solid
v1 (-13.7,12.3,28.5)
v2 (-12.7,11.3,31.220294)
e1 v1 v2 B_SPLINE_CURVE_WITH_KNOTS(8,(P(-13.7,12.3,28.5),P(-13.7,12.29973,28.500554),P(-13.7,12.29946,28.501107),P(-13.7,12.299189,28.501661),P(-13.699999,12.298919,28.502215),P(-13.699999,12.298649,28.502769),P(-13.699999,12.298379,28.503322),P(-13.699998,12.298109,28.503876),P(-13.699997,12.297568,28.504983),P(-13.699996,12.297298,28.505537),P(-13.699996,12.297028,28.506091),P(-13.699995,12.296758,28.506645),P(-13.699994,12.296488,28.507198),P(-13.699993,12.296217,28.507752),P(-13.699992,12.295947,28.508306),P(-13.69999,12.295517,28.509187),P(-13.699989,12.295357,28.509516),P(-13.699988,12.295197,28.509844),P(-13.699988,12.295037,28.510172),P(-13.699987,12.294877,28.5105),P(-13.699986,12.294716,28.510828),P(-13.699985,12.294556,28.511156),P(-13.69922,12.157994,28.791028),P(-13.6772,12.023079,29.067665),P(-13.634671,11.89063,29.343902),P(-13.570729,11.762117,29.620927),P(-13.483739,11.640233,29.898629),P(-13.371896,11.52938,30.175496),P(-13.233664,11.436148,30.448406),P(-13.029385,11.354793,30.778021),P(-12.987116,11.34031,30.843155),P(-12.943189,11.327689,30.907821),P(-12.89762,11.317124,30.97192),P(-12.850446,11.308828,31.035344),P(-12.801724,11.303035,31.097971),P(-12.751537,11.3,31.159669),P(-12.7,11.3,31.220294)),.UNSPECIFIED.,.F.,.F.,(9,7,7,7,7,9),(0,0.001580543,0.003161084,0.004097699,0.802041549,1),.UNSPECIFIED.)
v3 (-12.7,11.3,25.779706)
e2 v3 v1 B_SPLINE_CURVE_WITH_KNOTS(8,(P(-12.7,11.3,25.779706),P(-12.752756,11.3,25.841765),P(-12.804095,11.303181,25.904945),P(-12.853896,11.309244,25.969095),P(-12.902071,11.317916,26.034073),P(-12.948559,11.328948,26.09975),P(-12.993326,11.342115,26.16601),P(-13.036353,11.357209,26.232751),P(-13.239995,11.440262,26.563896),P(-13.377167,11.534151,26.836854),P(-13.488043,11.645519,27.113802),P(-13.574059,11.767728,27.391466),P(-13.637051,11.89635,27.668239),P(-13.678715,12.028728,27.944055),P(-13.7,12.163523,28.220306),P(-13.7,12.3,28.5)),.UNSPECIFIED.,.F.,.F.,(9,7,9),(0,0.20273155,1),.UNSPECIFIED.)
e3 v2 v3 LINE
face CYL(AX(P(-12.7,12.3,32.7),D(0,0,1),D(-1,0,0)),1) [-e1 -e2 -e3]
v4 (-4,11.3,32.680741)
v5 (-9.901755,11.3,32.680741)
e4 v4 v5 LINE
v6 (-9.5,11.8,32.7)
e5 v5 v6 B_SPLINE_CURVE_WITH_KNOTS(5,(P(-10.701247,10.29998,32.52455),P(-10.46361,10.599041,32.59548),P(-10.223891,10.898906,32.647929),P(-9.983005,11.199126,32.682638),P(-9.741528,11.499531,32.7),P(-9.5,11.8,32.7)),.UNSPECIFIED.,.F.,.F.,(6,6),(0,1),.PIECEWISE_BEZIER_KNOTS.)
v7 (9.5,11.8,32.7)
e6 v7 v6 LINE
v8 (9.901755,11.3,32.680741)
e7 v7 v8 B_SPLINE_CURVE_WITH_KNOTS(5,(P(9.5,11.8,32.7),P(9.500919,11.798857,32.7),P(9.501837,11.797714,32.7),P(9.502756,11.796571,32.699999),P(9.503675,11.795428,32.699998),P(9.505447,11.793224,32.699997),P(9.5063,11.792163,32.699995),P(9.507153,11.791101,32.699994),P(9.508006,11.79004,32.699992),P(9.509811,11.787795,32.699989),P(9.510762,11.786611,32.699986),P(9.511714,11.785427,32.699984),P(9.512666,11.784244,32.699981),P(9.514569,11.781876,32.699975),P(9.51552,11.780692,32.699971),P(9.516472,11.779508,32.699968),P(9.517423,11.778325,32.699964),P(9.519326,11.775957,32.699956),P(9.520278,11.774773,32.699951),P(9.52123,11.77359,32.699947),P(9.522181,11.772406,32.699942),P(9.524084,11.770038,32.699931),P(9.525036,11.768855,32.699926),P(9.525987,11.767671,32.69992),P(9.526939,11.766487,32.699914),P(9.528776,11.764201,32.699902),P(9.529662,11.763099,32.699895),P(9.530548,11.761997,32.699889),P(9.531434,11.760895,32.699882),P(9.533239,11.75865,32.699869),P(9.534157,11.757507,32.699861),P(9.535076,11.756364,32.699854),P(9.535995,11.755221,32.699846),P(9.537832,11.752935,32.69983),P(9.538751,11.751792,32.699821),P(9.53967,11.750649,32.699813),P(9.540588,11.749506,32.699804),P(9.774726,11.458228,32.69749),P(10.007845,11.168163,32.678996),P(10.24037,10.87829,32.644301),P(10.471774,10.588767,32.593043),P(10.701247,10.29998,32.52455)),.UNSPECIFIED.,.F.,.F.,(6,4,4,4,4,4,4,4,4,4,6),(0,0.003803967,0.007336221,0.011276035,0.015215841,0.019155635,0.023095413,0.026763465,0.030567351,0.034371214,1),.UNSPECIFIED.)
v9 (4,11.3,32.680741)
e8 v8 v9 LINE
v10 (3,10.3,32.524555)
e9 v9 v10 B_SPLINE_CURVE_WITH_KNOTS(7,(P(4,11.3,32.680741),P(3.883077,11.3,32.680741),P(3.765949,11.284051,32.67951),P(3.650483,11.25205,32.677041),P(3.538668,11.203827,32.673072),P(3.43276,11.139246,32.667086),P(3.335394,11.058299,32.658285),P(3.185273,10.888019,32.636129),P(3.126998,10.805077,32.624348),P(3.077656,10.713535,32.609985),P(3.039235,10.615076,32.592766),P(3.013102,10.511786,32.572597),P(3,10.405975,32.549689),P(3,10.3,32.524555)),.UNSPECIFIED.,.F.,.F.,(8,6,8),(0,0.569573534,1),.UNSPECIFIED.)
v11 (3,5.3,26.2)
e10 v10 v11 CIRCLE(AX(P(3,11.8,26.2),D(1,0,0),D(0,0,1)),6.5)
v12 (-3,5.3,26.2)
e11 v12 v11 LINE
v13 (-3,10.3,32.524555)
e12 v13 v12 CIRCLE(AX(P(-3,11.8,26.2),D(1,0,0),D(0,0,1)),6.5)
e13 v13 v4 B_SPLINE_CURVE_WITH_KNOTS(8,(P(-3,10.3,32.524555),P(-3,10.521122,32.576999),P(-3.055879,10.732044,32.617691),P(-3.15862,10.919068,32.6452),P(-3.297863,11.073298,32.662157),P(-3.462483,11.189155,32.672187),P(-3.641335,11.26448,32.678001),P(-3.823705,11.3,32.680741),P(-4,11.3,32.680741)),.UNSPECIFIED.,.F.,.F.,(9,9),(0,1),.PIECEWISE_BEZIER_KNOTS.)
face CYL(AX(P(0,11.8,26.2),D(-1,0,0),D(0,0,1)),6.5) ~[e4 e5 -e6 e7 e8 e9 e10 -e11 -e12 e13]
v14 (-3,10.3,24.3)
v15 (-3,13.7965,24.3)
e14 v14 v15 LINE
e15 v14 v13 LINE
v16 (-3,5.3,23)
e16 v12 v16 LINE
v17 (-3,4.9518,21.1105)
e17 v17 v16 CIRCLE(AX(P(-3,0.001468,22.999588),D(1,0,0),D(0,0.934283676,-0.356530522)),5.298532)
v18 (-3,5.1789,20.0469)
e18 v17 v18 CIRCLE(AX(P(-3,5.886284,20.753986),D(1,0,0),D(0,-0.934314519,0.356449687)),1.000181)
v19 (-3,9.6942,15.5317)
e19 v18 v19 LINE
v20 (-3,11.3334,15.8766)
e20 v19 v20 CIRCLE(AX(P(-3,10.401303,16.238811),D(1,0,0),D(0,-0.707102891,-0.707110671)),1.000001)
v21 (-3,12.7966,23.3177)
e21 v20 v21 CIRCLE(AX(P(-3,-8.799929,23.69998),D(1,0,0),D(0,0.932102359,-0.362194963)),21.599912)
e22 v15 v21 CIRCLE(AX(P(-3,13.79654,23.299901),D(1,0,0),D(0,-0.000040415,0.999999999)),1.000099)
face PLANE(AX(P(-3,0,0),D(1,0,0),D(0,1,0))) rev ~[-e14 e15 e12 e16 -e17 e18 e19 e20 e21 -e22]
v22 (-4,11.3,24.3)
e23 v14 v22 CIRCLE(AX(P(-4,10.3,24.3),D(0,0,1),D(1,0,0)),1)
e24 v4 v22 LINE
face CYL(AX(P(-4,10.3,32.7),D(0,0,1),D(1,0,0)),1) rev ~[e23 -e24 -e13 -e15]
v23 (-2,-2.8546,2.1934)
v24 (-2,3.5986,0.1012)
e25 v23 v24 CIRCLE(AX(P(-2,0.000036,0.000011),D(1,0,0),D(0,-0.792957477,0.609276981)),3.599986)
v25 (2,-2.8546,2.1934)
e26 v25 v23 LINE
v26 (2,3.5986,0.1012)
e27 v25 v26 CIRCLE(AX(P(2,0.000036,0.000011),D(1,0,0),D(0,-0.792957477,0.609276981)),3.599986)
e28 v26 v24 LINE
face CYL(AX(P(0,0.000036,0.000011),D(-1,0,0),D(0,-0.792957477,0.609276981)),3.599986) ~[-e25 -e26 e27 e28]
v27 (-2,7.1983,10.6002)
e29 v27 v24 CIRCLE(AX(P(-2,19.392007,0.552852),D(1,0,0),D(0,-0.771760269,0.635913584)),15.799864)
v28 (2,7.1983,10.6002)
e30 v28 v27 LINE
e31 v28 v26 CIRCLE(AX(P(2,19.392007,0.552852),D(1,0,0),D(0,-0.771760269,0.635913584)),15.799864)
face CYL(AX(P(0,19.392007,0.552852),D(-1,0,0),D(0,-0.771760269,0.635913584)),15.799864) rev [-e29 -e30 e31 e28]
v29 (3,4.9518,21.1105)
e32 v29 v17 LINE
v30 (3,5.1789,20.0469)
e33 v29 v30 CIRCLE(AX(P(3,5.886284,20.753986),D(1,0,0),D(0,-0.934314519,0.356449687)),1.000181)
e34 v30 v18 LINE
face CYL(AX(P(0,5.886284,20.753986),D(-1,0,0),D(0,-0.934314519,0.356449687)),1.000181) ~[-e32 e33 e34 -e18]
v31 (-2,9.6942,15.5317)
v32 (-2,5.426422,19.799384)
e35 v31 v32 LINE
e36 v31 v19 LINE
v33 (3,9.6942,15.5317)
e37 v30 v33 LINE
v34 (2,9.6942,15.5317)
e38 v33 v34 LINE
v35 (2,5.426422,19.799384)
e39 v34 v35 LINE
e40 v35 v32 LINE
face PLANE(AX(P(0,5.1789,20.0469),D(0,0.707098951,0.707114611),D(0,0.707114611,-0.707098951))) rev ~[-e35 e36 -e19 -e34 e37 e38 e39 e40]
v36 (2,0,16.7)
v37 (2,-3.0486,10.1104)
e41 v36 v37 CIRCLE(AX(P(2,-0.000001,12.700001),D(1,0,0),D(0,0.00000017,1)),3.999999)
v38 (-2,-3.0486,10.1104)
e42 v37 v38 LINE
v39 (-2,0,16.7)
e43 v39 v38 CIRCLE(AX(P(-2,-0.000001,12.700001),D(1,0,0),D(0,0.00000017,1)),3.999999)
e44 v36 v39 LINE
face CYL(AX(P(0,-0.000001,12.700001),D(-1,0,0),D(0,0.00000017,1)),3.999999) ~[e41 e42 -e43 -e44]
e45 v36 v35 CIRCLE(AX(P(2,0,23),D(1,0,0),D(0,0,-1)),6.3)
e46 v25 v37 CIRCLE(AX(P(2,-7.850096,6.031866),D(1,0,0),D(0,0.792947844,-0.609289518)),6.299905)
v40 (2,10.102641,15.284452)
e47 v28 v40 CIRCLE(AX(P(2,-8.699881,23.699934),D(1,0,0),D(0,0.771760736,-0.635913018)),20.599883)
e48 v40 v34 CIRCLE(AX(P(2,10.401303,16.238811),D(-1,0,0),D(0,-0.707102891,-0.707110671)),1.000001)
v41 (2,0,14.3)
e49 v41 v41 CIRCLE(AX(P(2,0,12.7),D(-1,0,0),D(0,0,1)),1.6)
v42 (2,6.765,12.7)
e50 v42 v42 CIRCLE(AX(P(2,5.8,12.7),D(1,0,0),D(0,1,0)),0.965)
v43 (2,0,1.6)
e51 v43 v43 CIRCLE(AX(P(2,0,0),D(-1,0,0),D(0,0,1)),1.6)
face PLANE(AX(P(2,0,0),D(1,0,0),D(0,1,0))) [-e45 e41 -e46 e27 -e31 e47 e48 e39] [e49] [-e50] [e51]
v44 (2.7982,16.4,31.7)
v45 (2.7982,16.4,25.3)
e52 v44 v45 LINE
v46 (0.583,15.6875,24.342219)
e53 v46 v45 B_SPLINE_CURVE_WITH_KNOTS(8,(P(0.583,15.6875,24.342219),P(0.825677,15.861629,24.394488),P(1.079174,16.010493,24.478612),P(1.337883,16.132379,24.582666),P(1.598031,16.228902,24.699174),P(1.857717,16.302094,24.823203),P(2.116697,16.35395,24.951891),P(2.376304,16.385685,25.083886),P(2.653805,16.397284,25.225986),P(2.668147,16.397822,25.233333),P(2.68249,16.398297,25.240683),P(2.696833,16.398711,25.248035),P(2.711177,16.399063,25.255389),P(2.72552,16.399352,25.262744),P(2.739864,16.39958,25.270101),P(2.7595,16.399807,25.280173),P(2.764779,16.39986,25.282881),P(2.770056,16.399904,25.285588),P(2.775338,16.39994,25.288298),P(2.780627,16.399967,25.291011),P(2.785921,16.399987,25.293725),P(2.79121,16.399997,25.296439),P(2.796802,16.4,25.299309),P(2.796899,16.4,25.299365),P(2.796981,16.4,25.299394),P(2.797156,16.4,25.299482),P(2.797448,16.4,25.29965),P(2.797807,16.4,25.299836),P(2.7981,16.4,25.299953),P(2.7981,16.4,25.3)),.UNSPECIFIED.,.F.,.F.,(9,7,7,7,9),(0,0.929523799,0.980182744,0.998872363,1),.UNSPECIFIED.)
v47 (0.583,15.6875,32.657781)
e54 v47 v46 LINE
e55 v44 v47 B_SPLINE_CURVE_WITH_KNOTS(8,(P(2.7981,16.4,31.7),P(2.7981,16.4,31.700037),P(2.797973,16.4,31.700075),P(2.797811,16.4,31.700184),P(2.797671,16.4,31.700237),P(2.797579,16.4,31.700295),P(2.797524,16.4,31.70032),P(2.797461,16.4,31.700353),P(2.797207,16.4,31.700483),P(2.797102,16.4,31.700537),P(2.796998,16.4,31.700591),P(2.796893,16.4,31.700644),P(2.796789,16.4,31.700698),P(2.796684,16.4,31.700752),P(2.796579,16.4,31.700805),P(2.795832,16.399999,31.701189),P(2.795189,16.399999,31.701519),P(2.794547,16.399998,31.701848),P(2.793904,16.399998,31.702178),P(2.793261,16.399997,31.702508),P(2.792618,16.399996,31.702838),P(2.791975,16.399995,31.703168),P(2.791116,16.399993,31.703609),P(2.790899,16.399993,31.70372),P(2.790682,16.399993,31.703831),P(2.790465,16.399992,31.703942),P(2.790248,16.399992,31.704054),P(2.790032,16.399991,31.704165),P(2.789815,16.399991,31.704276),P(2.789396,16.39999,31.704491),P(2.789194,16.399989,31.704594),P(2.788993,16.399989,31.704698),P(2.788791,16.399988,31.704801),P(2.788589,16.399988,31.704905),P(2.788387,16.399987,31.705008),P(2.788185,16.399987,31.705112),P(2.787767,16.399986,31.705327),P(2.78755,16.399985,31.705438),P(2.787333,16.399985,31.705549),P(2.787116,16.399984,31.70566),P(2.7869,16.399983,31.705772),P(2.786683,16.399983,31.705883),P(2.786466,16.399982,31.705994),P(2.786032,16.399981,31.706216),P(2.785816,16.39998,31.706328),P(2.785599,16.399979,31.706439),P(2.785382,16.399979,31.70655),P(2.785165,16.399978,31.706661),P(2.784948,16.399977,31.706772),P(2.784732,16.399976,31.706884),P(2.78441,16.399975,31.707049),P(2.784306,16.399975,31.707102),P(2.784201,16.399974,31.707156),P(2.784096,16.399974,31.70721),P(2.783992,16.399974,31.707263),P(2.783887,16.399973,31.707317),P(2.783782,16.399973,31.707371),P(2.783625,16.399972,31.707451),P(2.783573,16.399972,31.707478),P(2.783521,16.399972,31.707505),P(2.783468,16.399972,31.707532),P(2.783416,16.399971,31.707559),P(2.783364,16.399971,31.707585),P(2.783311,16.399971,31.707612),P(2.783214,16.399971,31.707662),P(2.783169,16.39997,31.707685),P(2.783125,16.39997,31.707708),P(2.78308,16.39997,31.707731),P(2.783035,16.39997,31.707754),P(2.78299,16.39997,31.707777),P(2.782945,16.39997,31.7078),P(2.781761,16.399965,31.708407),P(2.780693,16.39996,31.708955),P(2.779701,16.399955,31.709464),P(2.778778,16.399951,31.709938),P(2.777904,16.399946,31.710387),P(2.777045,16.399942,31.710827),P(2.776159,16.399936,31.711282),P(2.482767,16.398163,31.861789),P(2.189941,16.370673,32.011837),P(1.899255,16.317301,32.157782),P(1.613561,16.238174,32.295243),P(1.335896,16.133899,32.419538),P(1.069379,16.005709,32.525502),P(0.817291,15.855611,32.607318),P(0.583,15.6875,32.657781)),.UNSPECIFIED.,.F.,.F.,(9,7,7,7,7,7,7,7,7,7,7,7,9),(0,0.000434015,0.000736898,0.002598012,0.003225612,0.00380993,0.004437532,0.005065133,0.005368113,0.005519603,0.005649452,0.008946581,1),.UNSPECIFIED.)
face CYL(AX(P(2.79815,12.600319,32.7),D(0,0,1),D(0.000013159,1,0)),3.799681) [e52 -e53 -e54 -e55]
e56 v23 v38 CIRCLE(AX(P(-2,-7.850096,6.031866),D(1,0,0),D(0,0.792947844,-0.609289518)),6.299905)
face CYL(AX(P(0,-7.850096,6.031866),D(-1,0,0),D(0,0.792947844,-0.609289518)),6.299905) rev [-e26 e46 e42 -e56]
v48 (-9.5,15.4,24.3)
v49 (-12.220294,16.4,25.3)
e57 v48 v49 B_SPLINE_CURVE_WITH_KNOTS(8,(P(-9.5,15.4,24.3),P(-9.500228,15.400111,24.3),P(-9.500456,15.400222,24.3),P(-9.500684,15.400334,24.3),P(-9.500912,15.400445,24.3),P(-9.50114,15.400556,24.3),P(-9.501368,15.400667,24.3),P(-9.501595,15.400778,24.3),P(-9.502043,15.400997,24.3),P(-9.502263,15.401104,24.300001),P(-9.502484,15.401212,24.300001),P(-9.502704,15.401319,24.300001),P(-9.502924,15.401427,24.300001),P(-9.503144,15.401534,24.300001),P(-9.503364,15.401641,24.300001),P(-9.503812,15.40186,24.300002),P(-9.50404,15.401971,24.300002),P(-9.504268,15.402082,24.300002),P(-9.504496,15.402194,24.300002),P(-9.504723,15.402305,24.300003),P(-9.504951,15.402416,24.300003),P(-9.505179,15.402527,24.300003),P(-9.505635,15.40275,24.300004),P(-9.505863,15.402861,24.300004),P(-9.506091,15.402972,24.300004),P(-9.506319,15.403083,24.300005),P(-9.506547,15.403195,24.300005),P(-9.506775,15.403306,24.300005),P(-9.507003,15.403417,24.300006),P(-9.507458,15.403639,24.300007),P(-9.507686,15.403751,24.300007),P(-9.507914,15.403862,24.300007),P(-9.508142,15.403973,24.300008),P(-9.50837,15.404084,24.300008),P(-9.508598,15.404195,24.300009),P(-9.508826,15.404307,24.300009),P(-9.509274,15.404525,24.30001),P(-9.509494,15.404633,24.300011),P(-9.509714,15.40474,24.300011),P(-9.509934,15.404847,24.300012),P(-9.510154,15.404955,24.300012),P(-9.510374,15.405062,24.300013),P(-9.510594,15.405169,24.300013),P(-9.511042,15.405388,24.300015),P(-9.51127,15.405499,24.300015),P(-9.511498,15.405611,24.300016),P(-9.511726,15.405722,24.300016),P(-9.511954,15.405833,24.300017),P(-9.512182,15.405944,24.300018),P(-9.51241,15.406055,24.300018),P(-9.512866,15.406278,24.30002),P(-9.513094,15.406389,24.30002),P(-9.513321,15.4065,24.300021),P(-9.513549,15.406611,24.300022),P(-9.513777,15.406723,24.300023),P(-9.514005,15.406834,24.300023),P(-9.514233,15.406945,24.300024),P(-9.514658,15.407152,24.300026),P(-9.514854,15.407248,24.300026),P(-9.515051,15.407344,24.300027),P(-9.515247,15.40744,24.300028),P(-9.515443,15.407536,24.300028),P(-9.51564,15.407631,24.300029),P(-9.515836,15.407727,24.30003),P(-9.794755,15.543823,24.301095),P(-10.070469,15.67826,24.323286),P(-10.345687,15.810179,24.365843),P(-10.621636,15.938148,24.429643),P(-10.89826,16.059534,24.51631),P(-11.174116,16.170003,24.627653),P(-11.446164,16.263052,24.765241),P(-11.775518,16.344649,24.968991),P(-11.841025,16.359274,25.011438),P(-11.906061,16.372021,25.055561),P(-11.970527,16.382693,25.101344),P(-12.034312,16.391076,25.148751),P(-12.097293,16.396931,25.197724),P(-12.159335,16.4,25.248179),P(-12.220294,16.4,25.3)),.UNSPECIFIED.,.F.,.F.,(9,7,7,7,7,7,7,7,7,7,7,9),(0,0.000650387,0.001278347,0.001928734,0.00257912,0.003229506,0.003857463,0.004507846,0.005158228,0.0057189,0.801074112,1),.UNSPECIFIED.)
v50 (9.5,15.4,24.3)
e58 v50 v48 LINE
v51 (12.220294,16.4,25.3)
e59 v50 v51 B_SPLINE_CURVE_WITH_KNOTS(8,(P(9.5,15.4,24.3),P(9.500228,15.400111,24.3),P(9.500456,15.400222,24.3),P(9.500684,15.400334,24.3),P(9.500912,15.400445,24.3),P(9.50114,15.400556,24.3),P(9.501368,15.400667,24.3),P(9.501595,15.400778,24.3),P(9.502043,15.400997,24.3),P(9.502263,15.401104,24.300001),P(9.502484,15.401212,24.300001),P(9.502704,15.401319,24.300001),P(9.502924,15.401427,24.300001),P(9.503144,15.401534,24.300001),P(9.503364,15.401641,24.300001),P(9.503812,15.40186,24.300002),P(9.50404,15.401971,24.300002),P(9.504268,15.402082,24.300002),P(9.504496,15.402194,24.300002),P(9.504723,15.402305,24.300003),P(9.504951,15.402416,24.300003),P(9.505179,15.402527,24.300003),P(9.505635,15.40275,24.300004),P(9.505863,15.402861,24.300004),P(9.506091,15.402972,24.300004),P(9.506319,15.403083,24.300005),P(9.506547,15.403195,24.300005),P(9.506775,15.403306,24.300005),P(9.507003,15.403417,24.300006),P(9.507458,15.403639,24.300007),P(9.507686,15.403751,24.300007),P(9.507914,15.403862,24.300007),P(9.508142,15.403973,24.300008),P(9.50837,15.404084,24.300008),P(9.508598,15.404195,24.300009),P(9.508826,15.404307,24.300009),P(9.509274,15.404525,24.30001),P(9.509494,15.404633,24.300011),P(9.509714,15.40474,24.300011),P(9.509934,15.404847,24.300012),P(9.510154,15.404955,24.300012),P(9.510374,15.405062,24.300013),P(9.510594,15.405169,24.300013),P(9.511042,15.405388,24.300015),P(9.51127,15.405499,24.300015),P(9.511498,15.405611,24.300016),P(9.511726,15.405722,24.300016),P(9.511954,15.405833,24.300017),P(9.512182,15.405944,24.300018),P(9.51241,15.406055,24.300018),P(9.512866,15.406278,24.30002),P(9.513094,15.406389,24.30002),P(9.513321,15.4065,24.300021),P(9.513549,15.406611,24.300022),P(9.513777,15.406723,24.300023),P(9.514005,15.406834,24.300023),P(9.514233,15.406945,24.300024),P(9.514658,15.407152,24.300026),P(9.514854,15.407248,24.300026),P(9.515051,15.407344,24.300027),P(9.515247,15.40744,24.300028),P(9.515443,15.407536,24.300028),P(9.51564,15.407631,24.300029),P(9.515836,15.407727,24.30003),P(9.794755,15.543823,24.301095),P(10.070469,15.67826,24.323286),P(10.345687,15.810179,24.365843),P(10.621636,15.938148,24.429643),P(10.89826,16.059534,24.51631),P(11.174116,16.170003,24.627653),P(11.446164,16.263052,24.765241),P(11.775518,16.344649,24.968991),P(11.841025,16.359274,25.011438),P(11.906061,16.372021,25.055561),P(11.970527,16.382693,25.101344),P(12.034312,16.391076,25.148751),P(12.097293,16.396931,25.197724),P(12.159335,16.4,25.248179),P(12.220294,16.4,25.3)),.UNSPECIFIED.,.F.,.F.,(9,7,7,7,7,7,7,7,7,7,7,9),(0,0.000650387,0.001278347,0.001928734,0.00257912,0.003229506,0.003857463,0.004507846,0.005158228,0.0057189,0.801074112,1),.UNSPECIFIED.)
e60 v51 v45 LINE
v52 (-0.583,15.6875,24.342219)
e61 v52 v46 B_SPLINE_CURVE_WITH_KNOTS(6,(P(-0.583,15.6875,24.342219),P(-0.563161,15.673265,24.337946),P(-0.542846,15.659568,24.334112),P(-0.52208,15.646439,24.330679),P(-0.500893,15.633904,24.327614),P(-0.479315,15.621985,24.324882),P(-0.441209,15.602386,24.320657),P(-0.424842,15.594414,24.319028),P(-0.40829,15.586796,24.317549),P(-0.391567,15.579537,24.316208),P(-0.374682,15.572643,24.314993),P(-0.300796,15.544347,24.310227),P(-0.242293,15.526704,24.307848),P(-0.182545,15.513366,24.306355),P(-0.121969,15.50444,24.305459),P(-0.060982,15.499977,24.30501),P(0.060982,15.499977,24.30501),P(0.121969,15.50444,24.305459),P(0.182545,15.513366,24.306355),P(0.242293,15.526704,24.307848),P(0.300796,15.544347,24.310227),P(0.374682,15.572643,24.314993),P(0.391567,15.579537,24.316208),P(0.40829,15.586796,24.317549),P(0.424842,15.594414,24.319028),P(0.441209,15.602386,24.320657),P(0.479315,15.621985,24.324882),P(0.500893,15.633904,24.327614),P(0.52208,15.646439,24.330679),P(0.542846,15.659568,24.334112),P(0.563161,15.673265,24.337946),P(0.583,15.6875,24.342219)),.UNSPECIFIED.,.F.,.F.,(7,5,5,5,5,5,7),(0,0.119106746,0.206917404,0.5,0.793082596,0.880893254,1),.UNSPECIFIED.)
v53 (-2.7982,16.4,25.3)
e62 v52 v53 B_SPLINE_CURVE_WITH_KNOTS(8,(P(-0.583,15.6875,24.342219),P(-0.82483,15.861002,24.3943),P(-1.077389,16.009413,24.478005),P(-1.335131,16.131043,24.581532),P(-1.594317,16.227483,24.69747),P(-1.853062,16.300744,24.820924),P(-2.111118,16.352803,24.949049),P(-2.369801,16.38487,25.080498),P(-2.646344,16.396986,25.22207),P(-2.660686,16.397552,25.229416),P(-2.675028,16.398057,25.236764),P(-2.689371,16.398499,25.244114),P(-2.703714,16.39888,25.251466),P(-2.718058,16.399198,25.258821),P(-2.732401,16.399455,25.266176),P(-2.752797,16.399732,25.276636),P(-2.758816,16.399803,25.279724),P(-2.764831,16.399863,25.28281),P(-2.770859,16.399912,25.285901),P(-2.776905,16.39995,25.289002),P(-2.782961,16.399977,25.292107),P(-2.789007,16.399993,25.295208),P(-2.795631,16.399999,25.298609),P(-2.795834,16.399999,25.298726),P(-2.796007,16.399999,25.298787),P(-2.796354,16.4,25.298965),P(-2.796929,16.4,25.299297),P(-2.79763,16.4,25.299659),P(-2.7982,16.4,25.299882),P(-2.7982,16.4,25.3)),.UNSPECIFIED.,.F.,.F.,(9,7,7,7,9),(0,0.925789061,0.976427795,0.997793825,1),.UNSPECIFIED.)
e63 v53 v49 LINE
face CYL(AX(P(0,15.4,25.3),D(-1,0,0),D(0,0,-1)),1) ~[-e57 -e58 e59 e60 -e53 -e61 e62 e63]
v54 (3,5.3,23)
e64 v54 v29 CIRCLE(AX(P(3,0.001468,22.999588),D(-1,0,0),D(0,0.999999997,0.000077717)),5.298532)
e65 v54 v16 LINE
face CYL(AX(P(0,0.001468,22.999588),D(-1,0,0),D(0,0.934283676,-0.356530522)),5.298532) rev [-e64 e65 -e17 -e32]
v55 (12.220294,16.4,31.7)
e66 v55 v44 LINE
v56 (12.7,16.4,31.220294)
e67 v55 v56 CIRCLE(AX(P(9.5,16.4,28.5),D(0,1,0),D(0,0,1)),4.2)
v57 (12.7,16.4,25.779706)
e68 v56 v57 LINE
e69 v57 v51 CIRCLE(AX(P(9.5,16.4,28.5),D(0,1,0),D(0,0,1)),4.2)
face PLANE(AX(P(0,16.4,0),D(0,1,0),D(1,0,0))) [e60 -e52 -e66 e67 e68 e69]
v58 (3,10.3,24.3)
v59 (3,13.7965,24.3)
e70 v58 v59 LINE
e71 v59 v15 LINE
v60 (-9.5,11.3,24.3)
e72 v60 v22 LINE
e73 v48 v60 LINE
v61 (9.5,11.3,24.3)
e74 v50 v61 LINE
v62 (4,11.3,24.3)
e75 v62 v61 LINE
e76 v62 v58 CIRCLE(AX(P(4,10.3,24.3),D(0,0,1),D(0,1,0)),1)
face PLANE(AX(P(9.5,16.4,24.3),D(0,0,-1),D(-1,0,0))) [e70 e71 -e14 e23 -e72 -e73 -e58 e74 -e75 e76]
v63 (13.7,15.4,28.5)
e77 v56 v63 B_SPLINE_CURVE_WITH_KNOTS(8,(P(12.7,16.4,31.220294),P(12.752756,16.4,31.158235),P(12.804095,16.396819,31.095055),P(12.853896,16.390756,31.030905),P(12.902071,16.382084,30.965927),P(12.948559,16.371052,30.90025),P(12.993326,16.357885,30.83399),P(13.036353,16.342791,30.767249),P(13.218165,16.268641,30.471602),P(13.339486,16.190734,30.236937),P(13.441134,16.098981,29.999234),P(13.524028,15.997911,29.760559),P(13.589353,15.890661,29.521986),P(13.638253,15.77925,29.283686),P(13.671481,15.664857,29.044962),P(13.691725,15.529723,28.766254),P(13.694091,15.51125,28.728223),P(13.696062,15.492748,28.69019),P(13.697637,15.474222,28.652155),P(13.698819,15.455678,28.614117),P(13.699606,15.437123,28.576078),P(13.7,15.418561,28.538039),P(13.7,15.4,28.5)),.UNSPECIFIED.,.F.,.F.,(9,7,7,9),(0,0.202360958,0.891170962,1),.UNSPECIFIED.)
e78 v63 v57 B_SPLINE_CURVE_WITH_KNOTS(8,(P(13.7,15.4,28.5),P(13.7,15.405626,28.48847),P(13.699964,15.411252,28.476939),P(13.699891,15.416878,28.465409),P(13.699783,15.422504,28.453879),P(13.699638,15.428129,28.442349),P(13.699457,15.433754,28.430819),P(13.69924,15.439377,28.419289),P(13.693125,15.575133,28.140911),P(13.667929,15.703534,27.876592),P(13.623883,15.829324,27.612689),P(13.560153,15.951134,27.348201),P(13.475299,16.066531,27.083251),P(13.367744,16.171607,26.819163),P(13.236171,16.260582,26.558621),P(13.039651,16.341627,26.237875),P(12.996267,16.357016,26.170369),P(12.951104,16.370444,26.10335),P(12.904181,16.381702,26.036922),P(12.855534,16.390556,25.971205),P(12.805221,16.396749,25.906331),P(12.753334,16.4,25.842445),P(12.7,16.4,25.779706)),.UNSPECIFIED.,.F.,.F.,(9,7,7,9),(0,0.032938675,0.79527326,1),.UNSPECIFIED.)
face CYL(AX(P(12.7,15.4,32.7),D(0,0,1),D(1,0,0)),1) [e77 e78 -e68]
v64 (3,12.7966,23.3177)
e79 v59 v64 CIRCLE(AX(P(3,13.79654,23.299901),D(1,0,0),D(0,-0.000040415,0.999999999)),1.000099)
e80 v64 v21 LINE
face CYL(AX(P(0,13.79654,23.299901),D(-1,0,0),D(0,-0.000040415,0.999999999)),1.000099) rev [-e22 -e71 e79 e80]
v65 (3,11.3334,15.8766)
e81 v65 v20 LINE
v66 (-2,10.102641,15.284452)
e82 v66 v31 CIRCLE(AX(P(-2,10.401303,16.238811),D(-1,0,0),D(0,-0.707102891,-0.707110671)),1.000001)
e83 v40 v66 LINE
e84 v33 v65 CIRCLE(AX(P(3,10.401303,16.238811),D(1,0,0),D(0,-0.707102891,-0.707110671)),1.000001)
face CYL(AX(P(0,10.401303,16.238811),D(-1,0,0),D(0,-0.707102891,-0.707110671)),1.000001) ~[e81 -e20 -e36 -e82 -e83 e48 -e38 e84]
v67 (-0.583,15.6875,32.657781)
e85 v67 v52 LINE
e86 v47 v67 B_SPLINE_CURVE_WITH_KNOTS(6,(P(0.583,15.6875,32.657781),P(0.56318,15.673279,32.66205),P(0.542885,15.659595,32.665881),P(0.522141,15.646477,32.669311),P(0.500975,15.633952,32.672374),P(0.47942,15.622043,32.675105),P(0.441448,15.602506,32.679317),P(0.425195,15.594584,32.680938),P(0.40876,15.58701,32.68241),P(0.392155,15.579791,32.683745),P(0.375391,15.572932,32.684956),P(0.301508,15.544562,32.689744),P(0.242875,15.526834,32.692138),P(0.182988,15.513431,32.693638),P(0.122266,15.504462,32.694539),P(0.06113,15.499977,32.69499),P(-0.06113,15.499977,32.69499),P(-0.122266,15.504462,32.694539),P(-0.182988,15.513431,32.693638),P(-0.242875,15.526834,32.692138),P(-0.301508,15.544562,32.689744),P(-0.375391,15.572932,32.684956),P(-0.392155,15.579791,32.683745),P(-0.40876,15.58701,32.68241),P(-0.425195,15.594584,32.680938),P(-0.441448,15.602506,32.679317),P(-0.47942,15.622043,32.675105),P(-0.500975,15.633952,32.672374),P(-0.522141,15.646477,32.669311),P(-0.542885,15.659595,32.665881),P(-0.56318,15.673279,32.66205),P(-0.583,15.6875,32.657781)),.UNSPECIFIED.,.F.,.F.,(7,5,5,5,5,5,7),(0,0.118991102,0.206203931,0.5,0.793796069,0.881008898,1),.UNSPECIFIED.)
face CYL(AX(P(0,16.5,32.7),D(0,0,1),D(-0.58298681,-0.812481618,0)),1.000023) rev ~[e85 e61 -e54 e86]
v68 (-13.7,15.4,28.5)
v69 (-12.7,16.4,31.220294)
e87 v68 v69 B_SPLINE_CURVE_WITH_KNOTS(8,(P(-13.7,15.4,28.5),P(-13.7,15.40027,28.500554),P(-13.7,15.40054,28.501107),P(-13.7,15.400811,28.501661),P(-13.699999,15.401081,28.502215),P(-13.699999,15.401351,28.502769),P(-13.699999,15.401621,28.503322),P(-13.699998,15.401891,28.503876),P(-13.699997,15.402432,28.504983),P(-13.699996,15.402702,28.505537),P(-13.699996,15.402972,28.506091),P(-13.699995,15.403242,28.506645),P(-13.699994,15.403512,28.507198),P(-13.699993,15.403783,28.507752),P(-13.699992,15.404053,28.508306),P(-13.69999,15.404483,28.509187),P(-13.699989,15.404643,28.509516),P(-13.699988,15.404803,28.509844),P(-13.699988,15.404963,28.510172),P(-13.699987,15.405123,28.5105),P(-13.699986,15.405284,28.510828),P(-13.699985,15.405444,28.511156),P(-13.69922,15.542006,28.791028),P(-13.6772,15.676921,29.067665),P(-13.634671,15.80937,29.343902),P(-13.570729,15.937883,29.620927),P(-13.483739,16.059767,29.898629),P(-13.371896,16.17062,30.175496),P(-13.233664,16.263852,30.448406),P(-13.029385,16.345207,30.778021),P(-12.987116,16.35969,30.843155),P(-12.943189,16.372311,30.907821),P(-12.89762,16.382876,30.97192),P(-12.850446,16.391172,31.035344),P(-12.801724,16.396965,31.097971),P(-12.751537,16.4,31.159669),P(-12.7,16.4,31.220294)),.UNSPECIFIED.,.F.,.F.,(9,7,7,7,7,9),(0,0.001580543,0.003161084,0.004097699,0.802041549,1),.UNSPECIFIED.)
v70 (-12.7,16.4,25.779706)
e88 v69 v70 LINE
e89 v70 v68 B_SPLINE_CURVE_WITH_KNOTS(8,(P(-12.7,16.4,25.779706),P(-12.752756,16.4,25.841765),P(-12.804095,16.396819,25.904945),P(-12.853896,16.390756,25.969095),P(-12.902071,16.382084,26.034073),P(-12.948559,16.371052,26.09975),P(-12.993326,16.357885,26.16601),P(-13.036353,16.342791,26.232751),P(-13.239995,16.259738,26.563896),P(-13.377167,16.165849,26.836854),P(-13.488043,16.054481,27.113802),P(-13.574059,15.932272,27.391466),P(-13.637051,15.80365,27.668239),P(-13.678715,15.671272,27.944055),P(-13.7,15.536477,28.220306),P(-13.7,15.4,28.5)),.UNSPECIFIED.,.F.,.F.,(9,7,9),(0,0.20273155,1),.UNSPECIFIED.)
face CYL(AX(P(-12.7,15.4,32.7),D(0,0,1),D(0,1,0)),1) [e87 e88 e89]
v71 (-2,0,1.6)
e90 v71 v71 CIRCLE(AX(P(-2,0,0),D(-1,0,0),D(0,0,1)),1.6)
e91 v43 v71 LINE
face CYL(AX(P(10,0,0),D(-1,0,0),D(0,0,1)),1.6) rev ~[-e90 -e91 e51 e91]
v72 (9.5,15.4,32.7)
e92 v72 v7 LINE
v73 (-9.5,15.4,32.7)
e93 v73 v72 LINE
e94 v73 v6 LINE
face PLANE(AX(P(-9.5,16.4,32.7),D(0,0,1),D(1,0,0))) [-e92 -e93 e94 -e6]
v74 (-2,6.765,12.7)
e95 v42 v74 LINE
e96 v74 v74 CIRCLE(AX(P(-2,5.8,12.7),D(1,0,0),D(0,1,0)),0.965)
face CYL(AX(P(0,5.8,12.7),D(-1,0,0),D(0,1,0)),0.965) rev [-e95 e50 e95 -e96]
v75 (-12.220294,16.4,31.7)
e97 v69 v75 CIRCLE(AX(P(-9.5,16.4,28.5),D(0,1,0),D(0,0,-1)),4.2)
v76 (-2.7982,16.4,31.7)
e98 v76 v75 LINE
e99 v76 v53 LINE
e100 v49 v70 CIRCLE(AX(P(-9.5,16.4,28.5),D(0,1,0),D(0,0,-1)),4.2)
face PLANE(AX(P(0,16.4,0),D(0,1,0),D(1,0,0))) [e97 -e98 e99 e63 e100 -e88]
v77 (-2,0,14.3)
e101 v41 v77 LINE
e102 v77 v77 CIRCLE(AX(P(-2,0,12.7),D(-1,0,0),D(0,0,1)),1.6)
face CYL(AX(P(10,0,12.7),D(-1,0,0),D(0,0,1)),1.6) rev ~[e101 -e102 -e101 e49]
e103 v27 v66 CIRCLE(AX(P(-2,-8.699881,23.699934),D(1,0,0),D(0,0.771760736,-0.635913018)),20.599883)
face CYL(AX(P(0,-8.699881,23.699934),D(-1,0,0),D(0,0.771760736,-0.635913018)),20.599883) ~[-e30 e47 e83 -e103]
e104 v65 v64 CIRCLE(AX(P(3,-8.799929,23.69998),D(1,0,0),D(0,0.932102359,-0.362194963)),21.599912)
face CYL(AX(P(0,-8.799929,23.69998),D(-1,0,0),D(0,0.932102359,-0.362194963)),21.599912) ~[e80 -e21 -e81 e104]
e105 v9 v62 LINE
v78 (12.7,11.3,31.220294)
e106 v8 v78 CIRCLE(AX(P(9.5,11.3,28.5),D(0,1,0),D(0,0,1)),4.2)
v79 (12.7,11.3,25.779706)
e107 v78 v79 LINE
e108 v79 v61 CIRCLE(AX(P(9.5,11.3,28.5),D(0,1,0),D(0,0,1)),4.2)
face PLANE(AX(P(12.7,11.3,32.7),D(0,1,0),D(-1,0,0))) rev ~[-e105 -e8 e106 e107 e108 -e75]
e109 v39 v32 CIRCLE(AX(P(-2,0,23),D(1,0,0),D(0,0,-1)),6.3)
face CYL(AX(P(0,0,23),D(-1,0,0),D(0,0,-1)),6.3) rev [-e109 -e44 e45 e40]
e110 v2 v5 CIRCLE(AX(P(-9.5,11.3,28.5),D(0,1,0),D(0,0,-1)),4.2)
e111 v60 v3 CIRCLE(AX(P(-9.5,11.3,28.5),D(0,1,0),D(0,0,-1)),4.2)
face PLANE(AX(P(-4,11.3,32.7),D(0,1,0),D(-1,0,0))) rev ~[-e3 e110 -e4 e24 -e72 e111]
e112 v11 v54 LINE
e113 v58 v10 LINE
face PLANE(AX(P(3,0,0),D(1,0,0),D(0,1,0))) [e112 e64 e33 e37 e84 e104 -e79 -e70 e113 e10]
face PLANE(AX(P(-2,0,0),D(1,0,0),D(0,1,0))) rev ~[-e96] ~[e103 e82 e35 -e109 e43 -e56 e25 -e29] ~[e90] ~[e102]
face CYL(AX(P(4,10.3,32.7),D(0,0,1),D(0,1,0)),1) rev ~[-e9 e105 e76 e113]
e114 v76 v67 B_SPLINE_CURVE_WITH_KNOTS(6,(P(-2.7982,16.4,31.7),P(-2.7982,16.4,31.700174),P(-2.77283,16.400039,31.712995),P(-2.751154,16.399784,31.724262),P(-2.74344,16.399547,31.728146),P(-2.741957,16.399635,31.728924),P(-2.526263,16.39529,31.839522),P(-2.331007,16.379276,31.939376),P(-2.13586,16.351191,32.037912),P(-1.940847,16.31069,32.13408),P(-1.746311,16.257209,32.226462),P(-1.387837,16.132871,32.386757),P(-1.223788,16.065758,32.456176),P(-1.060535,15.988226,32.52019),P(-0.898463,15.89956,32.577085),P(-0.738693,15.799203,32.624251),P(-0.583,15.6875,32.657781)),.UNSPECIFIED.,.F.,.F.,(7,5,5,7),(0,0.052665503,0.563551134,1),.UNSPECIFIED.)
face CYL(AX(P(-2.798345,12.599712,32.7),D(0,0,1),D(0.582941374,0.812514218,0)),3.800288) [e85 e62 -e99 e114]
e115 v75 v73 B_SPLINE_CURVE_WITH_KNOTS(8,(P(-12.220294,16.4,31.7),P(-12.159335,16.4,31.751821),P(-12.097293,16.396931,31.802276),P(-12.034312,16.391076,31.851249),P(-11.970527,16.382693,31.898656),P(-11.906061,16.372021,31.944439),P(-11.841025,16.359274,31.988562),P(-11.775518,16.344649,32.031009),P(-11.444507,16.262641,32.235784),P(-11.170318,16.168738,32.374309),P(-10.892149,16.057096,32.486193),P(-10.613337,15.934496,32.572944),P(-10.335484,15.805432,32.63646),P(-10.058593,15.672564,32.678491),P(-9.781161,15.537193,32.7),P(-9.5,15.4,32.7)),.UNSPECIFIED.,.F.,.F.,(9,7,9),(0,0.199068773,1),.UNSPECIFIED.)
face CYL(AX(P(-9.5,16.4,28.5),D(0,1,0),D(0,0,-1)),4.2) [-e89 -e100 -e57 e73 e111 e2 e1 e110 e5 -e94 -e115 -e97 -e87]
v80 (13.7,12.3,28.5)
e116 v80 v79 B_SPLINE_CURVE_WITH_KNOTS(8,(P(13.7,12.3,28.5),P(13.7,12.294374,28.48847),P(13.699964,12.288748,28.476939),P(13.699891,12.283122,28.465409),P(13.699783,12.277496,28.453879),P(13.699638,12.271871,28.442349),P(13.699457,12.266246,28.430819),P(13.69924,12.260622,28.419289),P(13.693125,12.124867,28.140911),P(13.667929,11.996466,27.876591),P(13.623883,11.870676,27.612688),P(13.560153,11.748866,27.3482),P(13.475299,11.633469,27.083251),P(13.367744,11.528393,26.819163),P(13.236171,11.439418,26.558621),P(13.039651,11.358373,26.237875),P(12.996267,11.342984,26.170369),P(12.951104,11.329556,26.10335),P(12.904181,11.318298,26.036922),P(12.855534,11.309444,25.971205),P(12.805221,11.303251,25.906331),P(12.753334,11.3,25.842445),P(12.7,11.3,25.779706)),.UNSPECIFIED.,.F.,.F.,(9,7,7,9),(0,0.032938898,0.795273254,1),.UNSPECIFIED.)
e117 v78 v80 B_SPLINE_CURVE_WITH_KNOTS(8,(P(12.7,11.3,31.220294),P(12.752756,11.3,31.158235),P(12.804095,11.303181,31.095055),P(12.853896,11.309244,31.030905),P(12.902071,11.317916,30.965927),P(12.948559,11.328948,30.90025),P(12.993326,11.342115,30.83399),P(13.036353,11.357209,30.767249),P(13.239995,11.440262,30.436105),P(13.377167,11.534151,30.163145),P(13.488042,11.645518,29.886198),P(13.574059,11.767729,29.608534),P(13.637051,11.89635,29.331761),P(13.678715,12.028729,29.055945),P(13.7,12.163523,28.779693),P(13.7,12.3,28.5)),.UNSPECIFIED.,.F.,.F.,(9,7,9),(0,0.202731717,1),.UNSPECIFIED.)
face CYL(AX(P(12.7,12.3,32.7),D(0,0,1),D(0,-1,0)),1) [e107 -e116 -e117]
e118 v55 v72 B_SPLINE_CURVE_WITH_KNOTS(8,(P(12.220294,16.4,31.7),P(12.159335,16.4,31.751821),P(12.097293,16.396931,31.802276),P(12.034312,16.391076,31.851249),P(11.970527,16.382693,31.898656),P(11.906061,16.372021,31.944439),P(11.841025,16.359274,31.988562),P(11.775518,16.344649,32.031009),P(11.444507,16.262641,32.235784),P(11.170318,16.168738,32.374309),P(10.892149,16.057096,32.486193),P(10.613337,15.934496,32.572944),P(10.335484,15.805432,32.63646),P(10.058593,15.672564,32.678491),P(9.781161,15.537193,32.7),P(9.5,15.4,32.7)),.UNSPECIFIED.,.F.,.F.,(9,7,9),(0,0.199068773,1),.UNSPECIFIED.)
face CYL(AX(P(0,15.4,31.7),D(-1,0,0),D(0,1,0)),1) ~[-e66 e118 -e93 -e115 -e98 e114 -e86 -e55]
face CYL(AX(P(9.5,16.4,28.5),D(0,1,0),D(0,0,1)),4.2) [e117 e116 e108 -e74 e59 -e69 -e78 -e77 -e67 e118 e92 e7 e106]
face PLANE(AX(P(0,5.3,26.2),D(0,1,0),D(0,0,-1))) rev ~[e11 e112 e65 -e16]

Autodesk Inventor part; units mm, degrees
sketch "Skizze_4" plane through (0, 0, 0) normal (1, 0, 0) x (0, 1, 0)
  line L0 (14.3, 31.7) -> (11.8, 31.7)
  arc A0 (11.8, 31.7) -> (6.3, 26.2) centre (11.8, 26.2) ccw
  line L1 (6.3, 26.2) -> (6.3, 23)
  arc A1 (0, 16.7) -> (6.3, 23) centre (0, 23) ccw
  arc A2 (0, 16.7) -> (-3.0486, 10.1104) centre (0, 12.7) ccw
  arc A3 (-2.8546, 2.1934) -> (-3.0486, 10.1104) centre (-7.8502, 6.0319) ccw
  arc A4 (-2.8546, 2.1934) -> (3.5986, 0.1012) centre (0, 0) ccw
  arc A5 (7.1983, 10.6002) -> (3.5986, 0.1012) centre (19.3921, 0.5528) ccw
  arc A6 (7.1983, 10.6002) -> (11.8856, 24.4701) centre (-8.7, 23.7) ccw
  arc A7 (12.685, 25.3) -> (11.8856, 24.4701) centre (12.685, 24.5) ccw
  line L2 (12.685, 25.3) -> (14.3, 25.3)
  line L3 (14.3, 25.3) -> (14.3, 31.7)
  circle A8 centre (5.8, 12.7) radius 0.965
extrude "Extrusion1" add sketch "Skizze_4" along normal mid plane 4
sketch "Sketch_1" plane through (0, 0, 0) normal (1, 0, 0) x (0, 1, 0)
  line L0 (14.3, 32.7) -> (11.8, 32.7)
  arc A0 (11.8, 32.7) -> (5.3, 26.2) centre (11.8, 26.2) ccw
  line L1 (5.3, 26.2) -> (5.3, 23)
  arc A1 (4.9518, 21.1105) -> (5.3, 23) centre (0, 23) ccw
  arc A2 (4.9518, 21.1105) -> (5.1789, 20.0469) centre (5.8861, 20.754) ccw
  line L2 (5.1789, 20.0469) -> (9.6942, 15.5317)
  arc A3 (9.6942, 15.5317) -> (11.3334, 15.8766) centre (10.4013, 16.2388) ccw
  arc A4 (11.3334, 15.8766) -> (12.7966, 23.3177) centre (-8.8, 23.7) ccw
  arc A5 (13.7965, 24.3) -> (12.7966, 23.3177) centre (13.7965, 23.3) ccw
  line L3 (13.7965, 24.3) -> (14.3, 24.3)
  arc A6 (14.3, 24.3) -> (15.3, 25.3) centre (14.3, 25.3) ccw
  line L4 (15.3, 25.3) -> (15.3, 31.7)
  arc A7 (15.3, 31.7) -> (14.3, 32.7) centre (14.3, 31.7) ccw
extrude "Extrusion2" add sketch "Sketch_1" along normal mid plane 6
sketch "Skizze_5_ALT_Drilling_1" plane through (0, 0, 0) normal (0, 1, 0) x (-1, 0, 0)
  line L0 (10, 0) -> (-10, 0)
  line L1 (-10, 0) -> (-10, 1.6)
  line L2 (-10, 1.6) -> (10, 1.6)
  line L3 (10, 1.6) -> (10, 0)
  line L4 (10, 0) -> (-10, 0)
revolve "Revolution1" cut sketch "Skizze_5_ALT_Drilling_1" angle 360 about axis through (-10, 0, 0) along (-1, 0, 0)
sketch "Skizze_6_ALT_Drilling_2" plane through (0, 0, 0) normal (0, 1, 0) x (-1, 0, 0)
  line L0 (10, 12.7) -> (-10, 12.7)
  line L1 (-10, 12.7) -> (-10, 14.3)
  line L2 (-10, 14.3) -> (10, 14.3)
  line L3 (10, 14.3) -> (10, 12.7)
  line L4 (10, 12.7) -> (-10, 12.7)
revolve "Revolution2" cut sketch "Skizze_6_ALT_Drilling_2" angle 360 about axis through (-10, 0, 12.7) along (-1, 0, 0)
sketch "Sketch_2" plane through (0, 16.4, 0) normal (0, 1, 0) x (1, 0, 0)
  arc A0 (-9.5, -24.3) -> (-9.5, -32.7) centre (-9.5, -28.5) ccw
  line L0 (-9.5, -32.7) -> (9.5, -32.7)
  arc A1 (9.5, -32.7) -> (9.5, -24.3) centre (9.5, -28.5) ccw
  line L1 (9.5, -24.3) -> (-9.5, -24.3)
extrude "Extrusion3" add sketch "Sketch_2" against normal blind 6.1
sketch "Sketch_3" plane through (0, 0, 0) normal (1, 0, 0) x (0, 1, 0)
  line L0 (-12.0571, 36.1801) -> (-12.0571, -15.6384)
  line L1 (-12.0571, -15.6384) -> (20.4908, -15.6384)
  line L2 (20.4908, -15.6384) -> (20.4908, 36.1801)
  line L3 (20.4908, 36.1801) -> (-12.0571, 36.1801)
  line L4 (15.4, 32.7) -> (11.8, 32.7)
  arc A0 (11.8, 32.7) -> (5.3, 26.2) centre (11.8, 26.2) ccw
  line L5 (5.3, 26.2) -> (-6.4975, 26.2)
  line L6 (-6.4975, 26.2) -> (-6.4975, -9.3)
  line L7 (-6.4975, -9.3) -> (15.4, -9.3)
  line L8 (15.4, -9.3) -> (15.4, 24.3)
  arc A1 (15.4, 24.3) -> (16.4, 25.3) centre (15.4, 25.3) ccw
  line L9 (16.4, 25.3) -> (16.4, 31.7)
  arc A2 (16.4, 31.7) -> (15.4, 32.7) centre (15.4, 31.7) ccw
extrude "Extrusion4" cut sketch "Sketch_3" along normal mid plane 40
sketch "Sketch_4" plane through (0, 0, 32.7) normal (0, 0, 1) x (1, 0, 0)
  line L0 (-22.6525, -16.2217) -> (-3, -16.2217)
  line L1 (-3, -16.2217) -> (-3, 10.3)
  arc A0 (-3, 10.3) -> (-4, 11.3) centre (-4, 10.3) ccw
  line L2 (-4, 11.3) -> (-12.7, 11.3)
  arc A1 (-13.7, 12.3) -> (-12.7, 11.3) centre (-12.7, 12.3) ccw
  line L3 (-13.7, 12.3) -> (-13.7, 15.4)
  arc A2 (-12.7, 16.4) -> (-13.7, 15.4) centre (-12.7, 15.4) ccw
  line L4 (-12.7, 16.4) -> (-2.7982, 16.4)
  arc A3 (-0.583, 15.6875) -> (-2.7982, 16.4) centre (-2.7982, 12.6) ccw
  arc A4 (-0.583, 15.6875) -> (0.583, 15.6875) centre (0, 16.5) ccw
  arc A5 (2.7982, 16.4) -> (0.583, 15.6875) centre (2.7982, 12.6) ccw
  line L5 (2.7982, 16.4) -> (12.7, 16.4)
  arc A6 (13.7, 15.4) -> (12.7, 16.4) centre (12.7, 15.4) ccw
  line L6 (13.7, 15.4) -> (13.7, 12.3)
  arc A7 (12.7, 11.3) -> (13.7, 12.3) centre (12.7, 12.3) ccw
  line L7 (12.7, 11.3) -> (4, 11.3)
  arc A8 (4, 11.3) -> (3, 10.3) centre (4, 10.3) ccw
  line L8 (3, 10.3) -> (3, -16.2217)
  line L9 (3, -16.2217) -> (21.2638, -16.2217)
  line L10 (21.2638, -16.2217) -> (21.2638, 23.8758)
  line L11 (21.2638, 23.8758) -> (-22.6525, 23.8758)
  line L12 (-22.6525, 23.8758) -> (-22.6525, -16.2217)
extrude "Extrusion5" cut sketch "Sketch_4" against normal blind 10
ref_plane "HG1_XY" through (0, 0, 0) normal (1, 0, 0) x (0, 0, -1)
ref_plane "HG1_YZ" through (0, 0, 0) normal (0, 0, -1) x (0, 1, 0)
ref_plane "HG1_ZX" through (0, 0, 0) normal (0, 1, 0) x (1, 0, 0)
ref_plane "HG2_XY" through (0, 0, 12.7) normal (1, 0, 0) x (0, 0, -1)
ref_plane "HG2_YZ" through (0, 0, 12.7) normal (0, 0, -1) x (0, 1, 0)
ref_plane "HG2_ZX" through (0, 0, 12.7) normal (0, 1, 0) x (1, 0, 0)
ref_plane "HG3_XY" through (0, 0, 0) normal (0, 0, 1) x (1, 0, 0)
ref_plane "HG3_YZ" through (0, 0, 0) normal (1, 0, 0) x (0, 1, 0)
ref_plane "HG3_ZX" through (0, 0, 0) normal (0, 1, 0) x (0, 0, 1)
properties part number "305104_105"
